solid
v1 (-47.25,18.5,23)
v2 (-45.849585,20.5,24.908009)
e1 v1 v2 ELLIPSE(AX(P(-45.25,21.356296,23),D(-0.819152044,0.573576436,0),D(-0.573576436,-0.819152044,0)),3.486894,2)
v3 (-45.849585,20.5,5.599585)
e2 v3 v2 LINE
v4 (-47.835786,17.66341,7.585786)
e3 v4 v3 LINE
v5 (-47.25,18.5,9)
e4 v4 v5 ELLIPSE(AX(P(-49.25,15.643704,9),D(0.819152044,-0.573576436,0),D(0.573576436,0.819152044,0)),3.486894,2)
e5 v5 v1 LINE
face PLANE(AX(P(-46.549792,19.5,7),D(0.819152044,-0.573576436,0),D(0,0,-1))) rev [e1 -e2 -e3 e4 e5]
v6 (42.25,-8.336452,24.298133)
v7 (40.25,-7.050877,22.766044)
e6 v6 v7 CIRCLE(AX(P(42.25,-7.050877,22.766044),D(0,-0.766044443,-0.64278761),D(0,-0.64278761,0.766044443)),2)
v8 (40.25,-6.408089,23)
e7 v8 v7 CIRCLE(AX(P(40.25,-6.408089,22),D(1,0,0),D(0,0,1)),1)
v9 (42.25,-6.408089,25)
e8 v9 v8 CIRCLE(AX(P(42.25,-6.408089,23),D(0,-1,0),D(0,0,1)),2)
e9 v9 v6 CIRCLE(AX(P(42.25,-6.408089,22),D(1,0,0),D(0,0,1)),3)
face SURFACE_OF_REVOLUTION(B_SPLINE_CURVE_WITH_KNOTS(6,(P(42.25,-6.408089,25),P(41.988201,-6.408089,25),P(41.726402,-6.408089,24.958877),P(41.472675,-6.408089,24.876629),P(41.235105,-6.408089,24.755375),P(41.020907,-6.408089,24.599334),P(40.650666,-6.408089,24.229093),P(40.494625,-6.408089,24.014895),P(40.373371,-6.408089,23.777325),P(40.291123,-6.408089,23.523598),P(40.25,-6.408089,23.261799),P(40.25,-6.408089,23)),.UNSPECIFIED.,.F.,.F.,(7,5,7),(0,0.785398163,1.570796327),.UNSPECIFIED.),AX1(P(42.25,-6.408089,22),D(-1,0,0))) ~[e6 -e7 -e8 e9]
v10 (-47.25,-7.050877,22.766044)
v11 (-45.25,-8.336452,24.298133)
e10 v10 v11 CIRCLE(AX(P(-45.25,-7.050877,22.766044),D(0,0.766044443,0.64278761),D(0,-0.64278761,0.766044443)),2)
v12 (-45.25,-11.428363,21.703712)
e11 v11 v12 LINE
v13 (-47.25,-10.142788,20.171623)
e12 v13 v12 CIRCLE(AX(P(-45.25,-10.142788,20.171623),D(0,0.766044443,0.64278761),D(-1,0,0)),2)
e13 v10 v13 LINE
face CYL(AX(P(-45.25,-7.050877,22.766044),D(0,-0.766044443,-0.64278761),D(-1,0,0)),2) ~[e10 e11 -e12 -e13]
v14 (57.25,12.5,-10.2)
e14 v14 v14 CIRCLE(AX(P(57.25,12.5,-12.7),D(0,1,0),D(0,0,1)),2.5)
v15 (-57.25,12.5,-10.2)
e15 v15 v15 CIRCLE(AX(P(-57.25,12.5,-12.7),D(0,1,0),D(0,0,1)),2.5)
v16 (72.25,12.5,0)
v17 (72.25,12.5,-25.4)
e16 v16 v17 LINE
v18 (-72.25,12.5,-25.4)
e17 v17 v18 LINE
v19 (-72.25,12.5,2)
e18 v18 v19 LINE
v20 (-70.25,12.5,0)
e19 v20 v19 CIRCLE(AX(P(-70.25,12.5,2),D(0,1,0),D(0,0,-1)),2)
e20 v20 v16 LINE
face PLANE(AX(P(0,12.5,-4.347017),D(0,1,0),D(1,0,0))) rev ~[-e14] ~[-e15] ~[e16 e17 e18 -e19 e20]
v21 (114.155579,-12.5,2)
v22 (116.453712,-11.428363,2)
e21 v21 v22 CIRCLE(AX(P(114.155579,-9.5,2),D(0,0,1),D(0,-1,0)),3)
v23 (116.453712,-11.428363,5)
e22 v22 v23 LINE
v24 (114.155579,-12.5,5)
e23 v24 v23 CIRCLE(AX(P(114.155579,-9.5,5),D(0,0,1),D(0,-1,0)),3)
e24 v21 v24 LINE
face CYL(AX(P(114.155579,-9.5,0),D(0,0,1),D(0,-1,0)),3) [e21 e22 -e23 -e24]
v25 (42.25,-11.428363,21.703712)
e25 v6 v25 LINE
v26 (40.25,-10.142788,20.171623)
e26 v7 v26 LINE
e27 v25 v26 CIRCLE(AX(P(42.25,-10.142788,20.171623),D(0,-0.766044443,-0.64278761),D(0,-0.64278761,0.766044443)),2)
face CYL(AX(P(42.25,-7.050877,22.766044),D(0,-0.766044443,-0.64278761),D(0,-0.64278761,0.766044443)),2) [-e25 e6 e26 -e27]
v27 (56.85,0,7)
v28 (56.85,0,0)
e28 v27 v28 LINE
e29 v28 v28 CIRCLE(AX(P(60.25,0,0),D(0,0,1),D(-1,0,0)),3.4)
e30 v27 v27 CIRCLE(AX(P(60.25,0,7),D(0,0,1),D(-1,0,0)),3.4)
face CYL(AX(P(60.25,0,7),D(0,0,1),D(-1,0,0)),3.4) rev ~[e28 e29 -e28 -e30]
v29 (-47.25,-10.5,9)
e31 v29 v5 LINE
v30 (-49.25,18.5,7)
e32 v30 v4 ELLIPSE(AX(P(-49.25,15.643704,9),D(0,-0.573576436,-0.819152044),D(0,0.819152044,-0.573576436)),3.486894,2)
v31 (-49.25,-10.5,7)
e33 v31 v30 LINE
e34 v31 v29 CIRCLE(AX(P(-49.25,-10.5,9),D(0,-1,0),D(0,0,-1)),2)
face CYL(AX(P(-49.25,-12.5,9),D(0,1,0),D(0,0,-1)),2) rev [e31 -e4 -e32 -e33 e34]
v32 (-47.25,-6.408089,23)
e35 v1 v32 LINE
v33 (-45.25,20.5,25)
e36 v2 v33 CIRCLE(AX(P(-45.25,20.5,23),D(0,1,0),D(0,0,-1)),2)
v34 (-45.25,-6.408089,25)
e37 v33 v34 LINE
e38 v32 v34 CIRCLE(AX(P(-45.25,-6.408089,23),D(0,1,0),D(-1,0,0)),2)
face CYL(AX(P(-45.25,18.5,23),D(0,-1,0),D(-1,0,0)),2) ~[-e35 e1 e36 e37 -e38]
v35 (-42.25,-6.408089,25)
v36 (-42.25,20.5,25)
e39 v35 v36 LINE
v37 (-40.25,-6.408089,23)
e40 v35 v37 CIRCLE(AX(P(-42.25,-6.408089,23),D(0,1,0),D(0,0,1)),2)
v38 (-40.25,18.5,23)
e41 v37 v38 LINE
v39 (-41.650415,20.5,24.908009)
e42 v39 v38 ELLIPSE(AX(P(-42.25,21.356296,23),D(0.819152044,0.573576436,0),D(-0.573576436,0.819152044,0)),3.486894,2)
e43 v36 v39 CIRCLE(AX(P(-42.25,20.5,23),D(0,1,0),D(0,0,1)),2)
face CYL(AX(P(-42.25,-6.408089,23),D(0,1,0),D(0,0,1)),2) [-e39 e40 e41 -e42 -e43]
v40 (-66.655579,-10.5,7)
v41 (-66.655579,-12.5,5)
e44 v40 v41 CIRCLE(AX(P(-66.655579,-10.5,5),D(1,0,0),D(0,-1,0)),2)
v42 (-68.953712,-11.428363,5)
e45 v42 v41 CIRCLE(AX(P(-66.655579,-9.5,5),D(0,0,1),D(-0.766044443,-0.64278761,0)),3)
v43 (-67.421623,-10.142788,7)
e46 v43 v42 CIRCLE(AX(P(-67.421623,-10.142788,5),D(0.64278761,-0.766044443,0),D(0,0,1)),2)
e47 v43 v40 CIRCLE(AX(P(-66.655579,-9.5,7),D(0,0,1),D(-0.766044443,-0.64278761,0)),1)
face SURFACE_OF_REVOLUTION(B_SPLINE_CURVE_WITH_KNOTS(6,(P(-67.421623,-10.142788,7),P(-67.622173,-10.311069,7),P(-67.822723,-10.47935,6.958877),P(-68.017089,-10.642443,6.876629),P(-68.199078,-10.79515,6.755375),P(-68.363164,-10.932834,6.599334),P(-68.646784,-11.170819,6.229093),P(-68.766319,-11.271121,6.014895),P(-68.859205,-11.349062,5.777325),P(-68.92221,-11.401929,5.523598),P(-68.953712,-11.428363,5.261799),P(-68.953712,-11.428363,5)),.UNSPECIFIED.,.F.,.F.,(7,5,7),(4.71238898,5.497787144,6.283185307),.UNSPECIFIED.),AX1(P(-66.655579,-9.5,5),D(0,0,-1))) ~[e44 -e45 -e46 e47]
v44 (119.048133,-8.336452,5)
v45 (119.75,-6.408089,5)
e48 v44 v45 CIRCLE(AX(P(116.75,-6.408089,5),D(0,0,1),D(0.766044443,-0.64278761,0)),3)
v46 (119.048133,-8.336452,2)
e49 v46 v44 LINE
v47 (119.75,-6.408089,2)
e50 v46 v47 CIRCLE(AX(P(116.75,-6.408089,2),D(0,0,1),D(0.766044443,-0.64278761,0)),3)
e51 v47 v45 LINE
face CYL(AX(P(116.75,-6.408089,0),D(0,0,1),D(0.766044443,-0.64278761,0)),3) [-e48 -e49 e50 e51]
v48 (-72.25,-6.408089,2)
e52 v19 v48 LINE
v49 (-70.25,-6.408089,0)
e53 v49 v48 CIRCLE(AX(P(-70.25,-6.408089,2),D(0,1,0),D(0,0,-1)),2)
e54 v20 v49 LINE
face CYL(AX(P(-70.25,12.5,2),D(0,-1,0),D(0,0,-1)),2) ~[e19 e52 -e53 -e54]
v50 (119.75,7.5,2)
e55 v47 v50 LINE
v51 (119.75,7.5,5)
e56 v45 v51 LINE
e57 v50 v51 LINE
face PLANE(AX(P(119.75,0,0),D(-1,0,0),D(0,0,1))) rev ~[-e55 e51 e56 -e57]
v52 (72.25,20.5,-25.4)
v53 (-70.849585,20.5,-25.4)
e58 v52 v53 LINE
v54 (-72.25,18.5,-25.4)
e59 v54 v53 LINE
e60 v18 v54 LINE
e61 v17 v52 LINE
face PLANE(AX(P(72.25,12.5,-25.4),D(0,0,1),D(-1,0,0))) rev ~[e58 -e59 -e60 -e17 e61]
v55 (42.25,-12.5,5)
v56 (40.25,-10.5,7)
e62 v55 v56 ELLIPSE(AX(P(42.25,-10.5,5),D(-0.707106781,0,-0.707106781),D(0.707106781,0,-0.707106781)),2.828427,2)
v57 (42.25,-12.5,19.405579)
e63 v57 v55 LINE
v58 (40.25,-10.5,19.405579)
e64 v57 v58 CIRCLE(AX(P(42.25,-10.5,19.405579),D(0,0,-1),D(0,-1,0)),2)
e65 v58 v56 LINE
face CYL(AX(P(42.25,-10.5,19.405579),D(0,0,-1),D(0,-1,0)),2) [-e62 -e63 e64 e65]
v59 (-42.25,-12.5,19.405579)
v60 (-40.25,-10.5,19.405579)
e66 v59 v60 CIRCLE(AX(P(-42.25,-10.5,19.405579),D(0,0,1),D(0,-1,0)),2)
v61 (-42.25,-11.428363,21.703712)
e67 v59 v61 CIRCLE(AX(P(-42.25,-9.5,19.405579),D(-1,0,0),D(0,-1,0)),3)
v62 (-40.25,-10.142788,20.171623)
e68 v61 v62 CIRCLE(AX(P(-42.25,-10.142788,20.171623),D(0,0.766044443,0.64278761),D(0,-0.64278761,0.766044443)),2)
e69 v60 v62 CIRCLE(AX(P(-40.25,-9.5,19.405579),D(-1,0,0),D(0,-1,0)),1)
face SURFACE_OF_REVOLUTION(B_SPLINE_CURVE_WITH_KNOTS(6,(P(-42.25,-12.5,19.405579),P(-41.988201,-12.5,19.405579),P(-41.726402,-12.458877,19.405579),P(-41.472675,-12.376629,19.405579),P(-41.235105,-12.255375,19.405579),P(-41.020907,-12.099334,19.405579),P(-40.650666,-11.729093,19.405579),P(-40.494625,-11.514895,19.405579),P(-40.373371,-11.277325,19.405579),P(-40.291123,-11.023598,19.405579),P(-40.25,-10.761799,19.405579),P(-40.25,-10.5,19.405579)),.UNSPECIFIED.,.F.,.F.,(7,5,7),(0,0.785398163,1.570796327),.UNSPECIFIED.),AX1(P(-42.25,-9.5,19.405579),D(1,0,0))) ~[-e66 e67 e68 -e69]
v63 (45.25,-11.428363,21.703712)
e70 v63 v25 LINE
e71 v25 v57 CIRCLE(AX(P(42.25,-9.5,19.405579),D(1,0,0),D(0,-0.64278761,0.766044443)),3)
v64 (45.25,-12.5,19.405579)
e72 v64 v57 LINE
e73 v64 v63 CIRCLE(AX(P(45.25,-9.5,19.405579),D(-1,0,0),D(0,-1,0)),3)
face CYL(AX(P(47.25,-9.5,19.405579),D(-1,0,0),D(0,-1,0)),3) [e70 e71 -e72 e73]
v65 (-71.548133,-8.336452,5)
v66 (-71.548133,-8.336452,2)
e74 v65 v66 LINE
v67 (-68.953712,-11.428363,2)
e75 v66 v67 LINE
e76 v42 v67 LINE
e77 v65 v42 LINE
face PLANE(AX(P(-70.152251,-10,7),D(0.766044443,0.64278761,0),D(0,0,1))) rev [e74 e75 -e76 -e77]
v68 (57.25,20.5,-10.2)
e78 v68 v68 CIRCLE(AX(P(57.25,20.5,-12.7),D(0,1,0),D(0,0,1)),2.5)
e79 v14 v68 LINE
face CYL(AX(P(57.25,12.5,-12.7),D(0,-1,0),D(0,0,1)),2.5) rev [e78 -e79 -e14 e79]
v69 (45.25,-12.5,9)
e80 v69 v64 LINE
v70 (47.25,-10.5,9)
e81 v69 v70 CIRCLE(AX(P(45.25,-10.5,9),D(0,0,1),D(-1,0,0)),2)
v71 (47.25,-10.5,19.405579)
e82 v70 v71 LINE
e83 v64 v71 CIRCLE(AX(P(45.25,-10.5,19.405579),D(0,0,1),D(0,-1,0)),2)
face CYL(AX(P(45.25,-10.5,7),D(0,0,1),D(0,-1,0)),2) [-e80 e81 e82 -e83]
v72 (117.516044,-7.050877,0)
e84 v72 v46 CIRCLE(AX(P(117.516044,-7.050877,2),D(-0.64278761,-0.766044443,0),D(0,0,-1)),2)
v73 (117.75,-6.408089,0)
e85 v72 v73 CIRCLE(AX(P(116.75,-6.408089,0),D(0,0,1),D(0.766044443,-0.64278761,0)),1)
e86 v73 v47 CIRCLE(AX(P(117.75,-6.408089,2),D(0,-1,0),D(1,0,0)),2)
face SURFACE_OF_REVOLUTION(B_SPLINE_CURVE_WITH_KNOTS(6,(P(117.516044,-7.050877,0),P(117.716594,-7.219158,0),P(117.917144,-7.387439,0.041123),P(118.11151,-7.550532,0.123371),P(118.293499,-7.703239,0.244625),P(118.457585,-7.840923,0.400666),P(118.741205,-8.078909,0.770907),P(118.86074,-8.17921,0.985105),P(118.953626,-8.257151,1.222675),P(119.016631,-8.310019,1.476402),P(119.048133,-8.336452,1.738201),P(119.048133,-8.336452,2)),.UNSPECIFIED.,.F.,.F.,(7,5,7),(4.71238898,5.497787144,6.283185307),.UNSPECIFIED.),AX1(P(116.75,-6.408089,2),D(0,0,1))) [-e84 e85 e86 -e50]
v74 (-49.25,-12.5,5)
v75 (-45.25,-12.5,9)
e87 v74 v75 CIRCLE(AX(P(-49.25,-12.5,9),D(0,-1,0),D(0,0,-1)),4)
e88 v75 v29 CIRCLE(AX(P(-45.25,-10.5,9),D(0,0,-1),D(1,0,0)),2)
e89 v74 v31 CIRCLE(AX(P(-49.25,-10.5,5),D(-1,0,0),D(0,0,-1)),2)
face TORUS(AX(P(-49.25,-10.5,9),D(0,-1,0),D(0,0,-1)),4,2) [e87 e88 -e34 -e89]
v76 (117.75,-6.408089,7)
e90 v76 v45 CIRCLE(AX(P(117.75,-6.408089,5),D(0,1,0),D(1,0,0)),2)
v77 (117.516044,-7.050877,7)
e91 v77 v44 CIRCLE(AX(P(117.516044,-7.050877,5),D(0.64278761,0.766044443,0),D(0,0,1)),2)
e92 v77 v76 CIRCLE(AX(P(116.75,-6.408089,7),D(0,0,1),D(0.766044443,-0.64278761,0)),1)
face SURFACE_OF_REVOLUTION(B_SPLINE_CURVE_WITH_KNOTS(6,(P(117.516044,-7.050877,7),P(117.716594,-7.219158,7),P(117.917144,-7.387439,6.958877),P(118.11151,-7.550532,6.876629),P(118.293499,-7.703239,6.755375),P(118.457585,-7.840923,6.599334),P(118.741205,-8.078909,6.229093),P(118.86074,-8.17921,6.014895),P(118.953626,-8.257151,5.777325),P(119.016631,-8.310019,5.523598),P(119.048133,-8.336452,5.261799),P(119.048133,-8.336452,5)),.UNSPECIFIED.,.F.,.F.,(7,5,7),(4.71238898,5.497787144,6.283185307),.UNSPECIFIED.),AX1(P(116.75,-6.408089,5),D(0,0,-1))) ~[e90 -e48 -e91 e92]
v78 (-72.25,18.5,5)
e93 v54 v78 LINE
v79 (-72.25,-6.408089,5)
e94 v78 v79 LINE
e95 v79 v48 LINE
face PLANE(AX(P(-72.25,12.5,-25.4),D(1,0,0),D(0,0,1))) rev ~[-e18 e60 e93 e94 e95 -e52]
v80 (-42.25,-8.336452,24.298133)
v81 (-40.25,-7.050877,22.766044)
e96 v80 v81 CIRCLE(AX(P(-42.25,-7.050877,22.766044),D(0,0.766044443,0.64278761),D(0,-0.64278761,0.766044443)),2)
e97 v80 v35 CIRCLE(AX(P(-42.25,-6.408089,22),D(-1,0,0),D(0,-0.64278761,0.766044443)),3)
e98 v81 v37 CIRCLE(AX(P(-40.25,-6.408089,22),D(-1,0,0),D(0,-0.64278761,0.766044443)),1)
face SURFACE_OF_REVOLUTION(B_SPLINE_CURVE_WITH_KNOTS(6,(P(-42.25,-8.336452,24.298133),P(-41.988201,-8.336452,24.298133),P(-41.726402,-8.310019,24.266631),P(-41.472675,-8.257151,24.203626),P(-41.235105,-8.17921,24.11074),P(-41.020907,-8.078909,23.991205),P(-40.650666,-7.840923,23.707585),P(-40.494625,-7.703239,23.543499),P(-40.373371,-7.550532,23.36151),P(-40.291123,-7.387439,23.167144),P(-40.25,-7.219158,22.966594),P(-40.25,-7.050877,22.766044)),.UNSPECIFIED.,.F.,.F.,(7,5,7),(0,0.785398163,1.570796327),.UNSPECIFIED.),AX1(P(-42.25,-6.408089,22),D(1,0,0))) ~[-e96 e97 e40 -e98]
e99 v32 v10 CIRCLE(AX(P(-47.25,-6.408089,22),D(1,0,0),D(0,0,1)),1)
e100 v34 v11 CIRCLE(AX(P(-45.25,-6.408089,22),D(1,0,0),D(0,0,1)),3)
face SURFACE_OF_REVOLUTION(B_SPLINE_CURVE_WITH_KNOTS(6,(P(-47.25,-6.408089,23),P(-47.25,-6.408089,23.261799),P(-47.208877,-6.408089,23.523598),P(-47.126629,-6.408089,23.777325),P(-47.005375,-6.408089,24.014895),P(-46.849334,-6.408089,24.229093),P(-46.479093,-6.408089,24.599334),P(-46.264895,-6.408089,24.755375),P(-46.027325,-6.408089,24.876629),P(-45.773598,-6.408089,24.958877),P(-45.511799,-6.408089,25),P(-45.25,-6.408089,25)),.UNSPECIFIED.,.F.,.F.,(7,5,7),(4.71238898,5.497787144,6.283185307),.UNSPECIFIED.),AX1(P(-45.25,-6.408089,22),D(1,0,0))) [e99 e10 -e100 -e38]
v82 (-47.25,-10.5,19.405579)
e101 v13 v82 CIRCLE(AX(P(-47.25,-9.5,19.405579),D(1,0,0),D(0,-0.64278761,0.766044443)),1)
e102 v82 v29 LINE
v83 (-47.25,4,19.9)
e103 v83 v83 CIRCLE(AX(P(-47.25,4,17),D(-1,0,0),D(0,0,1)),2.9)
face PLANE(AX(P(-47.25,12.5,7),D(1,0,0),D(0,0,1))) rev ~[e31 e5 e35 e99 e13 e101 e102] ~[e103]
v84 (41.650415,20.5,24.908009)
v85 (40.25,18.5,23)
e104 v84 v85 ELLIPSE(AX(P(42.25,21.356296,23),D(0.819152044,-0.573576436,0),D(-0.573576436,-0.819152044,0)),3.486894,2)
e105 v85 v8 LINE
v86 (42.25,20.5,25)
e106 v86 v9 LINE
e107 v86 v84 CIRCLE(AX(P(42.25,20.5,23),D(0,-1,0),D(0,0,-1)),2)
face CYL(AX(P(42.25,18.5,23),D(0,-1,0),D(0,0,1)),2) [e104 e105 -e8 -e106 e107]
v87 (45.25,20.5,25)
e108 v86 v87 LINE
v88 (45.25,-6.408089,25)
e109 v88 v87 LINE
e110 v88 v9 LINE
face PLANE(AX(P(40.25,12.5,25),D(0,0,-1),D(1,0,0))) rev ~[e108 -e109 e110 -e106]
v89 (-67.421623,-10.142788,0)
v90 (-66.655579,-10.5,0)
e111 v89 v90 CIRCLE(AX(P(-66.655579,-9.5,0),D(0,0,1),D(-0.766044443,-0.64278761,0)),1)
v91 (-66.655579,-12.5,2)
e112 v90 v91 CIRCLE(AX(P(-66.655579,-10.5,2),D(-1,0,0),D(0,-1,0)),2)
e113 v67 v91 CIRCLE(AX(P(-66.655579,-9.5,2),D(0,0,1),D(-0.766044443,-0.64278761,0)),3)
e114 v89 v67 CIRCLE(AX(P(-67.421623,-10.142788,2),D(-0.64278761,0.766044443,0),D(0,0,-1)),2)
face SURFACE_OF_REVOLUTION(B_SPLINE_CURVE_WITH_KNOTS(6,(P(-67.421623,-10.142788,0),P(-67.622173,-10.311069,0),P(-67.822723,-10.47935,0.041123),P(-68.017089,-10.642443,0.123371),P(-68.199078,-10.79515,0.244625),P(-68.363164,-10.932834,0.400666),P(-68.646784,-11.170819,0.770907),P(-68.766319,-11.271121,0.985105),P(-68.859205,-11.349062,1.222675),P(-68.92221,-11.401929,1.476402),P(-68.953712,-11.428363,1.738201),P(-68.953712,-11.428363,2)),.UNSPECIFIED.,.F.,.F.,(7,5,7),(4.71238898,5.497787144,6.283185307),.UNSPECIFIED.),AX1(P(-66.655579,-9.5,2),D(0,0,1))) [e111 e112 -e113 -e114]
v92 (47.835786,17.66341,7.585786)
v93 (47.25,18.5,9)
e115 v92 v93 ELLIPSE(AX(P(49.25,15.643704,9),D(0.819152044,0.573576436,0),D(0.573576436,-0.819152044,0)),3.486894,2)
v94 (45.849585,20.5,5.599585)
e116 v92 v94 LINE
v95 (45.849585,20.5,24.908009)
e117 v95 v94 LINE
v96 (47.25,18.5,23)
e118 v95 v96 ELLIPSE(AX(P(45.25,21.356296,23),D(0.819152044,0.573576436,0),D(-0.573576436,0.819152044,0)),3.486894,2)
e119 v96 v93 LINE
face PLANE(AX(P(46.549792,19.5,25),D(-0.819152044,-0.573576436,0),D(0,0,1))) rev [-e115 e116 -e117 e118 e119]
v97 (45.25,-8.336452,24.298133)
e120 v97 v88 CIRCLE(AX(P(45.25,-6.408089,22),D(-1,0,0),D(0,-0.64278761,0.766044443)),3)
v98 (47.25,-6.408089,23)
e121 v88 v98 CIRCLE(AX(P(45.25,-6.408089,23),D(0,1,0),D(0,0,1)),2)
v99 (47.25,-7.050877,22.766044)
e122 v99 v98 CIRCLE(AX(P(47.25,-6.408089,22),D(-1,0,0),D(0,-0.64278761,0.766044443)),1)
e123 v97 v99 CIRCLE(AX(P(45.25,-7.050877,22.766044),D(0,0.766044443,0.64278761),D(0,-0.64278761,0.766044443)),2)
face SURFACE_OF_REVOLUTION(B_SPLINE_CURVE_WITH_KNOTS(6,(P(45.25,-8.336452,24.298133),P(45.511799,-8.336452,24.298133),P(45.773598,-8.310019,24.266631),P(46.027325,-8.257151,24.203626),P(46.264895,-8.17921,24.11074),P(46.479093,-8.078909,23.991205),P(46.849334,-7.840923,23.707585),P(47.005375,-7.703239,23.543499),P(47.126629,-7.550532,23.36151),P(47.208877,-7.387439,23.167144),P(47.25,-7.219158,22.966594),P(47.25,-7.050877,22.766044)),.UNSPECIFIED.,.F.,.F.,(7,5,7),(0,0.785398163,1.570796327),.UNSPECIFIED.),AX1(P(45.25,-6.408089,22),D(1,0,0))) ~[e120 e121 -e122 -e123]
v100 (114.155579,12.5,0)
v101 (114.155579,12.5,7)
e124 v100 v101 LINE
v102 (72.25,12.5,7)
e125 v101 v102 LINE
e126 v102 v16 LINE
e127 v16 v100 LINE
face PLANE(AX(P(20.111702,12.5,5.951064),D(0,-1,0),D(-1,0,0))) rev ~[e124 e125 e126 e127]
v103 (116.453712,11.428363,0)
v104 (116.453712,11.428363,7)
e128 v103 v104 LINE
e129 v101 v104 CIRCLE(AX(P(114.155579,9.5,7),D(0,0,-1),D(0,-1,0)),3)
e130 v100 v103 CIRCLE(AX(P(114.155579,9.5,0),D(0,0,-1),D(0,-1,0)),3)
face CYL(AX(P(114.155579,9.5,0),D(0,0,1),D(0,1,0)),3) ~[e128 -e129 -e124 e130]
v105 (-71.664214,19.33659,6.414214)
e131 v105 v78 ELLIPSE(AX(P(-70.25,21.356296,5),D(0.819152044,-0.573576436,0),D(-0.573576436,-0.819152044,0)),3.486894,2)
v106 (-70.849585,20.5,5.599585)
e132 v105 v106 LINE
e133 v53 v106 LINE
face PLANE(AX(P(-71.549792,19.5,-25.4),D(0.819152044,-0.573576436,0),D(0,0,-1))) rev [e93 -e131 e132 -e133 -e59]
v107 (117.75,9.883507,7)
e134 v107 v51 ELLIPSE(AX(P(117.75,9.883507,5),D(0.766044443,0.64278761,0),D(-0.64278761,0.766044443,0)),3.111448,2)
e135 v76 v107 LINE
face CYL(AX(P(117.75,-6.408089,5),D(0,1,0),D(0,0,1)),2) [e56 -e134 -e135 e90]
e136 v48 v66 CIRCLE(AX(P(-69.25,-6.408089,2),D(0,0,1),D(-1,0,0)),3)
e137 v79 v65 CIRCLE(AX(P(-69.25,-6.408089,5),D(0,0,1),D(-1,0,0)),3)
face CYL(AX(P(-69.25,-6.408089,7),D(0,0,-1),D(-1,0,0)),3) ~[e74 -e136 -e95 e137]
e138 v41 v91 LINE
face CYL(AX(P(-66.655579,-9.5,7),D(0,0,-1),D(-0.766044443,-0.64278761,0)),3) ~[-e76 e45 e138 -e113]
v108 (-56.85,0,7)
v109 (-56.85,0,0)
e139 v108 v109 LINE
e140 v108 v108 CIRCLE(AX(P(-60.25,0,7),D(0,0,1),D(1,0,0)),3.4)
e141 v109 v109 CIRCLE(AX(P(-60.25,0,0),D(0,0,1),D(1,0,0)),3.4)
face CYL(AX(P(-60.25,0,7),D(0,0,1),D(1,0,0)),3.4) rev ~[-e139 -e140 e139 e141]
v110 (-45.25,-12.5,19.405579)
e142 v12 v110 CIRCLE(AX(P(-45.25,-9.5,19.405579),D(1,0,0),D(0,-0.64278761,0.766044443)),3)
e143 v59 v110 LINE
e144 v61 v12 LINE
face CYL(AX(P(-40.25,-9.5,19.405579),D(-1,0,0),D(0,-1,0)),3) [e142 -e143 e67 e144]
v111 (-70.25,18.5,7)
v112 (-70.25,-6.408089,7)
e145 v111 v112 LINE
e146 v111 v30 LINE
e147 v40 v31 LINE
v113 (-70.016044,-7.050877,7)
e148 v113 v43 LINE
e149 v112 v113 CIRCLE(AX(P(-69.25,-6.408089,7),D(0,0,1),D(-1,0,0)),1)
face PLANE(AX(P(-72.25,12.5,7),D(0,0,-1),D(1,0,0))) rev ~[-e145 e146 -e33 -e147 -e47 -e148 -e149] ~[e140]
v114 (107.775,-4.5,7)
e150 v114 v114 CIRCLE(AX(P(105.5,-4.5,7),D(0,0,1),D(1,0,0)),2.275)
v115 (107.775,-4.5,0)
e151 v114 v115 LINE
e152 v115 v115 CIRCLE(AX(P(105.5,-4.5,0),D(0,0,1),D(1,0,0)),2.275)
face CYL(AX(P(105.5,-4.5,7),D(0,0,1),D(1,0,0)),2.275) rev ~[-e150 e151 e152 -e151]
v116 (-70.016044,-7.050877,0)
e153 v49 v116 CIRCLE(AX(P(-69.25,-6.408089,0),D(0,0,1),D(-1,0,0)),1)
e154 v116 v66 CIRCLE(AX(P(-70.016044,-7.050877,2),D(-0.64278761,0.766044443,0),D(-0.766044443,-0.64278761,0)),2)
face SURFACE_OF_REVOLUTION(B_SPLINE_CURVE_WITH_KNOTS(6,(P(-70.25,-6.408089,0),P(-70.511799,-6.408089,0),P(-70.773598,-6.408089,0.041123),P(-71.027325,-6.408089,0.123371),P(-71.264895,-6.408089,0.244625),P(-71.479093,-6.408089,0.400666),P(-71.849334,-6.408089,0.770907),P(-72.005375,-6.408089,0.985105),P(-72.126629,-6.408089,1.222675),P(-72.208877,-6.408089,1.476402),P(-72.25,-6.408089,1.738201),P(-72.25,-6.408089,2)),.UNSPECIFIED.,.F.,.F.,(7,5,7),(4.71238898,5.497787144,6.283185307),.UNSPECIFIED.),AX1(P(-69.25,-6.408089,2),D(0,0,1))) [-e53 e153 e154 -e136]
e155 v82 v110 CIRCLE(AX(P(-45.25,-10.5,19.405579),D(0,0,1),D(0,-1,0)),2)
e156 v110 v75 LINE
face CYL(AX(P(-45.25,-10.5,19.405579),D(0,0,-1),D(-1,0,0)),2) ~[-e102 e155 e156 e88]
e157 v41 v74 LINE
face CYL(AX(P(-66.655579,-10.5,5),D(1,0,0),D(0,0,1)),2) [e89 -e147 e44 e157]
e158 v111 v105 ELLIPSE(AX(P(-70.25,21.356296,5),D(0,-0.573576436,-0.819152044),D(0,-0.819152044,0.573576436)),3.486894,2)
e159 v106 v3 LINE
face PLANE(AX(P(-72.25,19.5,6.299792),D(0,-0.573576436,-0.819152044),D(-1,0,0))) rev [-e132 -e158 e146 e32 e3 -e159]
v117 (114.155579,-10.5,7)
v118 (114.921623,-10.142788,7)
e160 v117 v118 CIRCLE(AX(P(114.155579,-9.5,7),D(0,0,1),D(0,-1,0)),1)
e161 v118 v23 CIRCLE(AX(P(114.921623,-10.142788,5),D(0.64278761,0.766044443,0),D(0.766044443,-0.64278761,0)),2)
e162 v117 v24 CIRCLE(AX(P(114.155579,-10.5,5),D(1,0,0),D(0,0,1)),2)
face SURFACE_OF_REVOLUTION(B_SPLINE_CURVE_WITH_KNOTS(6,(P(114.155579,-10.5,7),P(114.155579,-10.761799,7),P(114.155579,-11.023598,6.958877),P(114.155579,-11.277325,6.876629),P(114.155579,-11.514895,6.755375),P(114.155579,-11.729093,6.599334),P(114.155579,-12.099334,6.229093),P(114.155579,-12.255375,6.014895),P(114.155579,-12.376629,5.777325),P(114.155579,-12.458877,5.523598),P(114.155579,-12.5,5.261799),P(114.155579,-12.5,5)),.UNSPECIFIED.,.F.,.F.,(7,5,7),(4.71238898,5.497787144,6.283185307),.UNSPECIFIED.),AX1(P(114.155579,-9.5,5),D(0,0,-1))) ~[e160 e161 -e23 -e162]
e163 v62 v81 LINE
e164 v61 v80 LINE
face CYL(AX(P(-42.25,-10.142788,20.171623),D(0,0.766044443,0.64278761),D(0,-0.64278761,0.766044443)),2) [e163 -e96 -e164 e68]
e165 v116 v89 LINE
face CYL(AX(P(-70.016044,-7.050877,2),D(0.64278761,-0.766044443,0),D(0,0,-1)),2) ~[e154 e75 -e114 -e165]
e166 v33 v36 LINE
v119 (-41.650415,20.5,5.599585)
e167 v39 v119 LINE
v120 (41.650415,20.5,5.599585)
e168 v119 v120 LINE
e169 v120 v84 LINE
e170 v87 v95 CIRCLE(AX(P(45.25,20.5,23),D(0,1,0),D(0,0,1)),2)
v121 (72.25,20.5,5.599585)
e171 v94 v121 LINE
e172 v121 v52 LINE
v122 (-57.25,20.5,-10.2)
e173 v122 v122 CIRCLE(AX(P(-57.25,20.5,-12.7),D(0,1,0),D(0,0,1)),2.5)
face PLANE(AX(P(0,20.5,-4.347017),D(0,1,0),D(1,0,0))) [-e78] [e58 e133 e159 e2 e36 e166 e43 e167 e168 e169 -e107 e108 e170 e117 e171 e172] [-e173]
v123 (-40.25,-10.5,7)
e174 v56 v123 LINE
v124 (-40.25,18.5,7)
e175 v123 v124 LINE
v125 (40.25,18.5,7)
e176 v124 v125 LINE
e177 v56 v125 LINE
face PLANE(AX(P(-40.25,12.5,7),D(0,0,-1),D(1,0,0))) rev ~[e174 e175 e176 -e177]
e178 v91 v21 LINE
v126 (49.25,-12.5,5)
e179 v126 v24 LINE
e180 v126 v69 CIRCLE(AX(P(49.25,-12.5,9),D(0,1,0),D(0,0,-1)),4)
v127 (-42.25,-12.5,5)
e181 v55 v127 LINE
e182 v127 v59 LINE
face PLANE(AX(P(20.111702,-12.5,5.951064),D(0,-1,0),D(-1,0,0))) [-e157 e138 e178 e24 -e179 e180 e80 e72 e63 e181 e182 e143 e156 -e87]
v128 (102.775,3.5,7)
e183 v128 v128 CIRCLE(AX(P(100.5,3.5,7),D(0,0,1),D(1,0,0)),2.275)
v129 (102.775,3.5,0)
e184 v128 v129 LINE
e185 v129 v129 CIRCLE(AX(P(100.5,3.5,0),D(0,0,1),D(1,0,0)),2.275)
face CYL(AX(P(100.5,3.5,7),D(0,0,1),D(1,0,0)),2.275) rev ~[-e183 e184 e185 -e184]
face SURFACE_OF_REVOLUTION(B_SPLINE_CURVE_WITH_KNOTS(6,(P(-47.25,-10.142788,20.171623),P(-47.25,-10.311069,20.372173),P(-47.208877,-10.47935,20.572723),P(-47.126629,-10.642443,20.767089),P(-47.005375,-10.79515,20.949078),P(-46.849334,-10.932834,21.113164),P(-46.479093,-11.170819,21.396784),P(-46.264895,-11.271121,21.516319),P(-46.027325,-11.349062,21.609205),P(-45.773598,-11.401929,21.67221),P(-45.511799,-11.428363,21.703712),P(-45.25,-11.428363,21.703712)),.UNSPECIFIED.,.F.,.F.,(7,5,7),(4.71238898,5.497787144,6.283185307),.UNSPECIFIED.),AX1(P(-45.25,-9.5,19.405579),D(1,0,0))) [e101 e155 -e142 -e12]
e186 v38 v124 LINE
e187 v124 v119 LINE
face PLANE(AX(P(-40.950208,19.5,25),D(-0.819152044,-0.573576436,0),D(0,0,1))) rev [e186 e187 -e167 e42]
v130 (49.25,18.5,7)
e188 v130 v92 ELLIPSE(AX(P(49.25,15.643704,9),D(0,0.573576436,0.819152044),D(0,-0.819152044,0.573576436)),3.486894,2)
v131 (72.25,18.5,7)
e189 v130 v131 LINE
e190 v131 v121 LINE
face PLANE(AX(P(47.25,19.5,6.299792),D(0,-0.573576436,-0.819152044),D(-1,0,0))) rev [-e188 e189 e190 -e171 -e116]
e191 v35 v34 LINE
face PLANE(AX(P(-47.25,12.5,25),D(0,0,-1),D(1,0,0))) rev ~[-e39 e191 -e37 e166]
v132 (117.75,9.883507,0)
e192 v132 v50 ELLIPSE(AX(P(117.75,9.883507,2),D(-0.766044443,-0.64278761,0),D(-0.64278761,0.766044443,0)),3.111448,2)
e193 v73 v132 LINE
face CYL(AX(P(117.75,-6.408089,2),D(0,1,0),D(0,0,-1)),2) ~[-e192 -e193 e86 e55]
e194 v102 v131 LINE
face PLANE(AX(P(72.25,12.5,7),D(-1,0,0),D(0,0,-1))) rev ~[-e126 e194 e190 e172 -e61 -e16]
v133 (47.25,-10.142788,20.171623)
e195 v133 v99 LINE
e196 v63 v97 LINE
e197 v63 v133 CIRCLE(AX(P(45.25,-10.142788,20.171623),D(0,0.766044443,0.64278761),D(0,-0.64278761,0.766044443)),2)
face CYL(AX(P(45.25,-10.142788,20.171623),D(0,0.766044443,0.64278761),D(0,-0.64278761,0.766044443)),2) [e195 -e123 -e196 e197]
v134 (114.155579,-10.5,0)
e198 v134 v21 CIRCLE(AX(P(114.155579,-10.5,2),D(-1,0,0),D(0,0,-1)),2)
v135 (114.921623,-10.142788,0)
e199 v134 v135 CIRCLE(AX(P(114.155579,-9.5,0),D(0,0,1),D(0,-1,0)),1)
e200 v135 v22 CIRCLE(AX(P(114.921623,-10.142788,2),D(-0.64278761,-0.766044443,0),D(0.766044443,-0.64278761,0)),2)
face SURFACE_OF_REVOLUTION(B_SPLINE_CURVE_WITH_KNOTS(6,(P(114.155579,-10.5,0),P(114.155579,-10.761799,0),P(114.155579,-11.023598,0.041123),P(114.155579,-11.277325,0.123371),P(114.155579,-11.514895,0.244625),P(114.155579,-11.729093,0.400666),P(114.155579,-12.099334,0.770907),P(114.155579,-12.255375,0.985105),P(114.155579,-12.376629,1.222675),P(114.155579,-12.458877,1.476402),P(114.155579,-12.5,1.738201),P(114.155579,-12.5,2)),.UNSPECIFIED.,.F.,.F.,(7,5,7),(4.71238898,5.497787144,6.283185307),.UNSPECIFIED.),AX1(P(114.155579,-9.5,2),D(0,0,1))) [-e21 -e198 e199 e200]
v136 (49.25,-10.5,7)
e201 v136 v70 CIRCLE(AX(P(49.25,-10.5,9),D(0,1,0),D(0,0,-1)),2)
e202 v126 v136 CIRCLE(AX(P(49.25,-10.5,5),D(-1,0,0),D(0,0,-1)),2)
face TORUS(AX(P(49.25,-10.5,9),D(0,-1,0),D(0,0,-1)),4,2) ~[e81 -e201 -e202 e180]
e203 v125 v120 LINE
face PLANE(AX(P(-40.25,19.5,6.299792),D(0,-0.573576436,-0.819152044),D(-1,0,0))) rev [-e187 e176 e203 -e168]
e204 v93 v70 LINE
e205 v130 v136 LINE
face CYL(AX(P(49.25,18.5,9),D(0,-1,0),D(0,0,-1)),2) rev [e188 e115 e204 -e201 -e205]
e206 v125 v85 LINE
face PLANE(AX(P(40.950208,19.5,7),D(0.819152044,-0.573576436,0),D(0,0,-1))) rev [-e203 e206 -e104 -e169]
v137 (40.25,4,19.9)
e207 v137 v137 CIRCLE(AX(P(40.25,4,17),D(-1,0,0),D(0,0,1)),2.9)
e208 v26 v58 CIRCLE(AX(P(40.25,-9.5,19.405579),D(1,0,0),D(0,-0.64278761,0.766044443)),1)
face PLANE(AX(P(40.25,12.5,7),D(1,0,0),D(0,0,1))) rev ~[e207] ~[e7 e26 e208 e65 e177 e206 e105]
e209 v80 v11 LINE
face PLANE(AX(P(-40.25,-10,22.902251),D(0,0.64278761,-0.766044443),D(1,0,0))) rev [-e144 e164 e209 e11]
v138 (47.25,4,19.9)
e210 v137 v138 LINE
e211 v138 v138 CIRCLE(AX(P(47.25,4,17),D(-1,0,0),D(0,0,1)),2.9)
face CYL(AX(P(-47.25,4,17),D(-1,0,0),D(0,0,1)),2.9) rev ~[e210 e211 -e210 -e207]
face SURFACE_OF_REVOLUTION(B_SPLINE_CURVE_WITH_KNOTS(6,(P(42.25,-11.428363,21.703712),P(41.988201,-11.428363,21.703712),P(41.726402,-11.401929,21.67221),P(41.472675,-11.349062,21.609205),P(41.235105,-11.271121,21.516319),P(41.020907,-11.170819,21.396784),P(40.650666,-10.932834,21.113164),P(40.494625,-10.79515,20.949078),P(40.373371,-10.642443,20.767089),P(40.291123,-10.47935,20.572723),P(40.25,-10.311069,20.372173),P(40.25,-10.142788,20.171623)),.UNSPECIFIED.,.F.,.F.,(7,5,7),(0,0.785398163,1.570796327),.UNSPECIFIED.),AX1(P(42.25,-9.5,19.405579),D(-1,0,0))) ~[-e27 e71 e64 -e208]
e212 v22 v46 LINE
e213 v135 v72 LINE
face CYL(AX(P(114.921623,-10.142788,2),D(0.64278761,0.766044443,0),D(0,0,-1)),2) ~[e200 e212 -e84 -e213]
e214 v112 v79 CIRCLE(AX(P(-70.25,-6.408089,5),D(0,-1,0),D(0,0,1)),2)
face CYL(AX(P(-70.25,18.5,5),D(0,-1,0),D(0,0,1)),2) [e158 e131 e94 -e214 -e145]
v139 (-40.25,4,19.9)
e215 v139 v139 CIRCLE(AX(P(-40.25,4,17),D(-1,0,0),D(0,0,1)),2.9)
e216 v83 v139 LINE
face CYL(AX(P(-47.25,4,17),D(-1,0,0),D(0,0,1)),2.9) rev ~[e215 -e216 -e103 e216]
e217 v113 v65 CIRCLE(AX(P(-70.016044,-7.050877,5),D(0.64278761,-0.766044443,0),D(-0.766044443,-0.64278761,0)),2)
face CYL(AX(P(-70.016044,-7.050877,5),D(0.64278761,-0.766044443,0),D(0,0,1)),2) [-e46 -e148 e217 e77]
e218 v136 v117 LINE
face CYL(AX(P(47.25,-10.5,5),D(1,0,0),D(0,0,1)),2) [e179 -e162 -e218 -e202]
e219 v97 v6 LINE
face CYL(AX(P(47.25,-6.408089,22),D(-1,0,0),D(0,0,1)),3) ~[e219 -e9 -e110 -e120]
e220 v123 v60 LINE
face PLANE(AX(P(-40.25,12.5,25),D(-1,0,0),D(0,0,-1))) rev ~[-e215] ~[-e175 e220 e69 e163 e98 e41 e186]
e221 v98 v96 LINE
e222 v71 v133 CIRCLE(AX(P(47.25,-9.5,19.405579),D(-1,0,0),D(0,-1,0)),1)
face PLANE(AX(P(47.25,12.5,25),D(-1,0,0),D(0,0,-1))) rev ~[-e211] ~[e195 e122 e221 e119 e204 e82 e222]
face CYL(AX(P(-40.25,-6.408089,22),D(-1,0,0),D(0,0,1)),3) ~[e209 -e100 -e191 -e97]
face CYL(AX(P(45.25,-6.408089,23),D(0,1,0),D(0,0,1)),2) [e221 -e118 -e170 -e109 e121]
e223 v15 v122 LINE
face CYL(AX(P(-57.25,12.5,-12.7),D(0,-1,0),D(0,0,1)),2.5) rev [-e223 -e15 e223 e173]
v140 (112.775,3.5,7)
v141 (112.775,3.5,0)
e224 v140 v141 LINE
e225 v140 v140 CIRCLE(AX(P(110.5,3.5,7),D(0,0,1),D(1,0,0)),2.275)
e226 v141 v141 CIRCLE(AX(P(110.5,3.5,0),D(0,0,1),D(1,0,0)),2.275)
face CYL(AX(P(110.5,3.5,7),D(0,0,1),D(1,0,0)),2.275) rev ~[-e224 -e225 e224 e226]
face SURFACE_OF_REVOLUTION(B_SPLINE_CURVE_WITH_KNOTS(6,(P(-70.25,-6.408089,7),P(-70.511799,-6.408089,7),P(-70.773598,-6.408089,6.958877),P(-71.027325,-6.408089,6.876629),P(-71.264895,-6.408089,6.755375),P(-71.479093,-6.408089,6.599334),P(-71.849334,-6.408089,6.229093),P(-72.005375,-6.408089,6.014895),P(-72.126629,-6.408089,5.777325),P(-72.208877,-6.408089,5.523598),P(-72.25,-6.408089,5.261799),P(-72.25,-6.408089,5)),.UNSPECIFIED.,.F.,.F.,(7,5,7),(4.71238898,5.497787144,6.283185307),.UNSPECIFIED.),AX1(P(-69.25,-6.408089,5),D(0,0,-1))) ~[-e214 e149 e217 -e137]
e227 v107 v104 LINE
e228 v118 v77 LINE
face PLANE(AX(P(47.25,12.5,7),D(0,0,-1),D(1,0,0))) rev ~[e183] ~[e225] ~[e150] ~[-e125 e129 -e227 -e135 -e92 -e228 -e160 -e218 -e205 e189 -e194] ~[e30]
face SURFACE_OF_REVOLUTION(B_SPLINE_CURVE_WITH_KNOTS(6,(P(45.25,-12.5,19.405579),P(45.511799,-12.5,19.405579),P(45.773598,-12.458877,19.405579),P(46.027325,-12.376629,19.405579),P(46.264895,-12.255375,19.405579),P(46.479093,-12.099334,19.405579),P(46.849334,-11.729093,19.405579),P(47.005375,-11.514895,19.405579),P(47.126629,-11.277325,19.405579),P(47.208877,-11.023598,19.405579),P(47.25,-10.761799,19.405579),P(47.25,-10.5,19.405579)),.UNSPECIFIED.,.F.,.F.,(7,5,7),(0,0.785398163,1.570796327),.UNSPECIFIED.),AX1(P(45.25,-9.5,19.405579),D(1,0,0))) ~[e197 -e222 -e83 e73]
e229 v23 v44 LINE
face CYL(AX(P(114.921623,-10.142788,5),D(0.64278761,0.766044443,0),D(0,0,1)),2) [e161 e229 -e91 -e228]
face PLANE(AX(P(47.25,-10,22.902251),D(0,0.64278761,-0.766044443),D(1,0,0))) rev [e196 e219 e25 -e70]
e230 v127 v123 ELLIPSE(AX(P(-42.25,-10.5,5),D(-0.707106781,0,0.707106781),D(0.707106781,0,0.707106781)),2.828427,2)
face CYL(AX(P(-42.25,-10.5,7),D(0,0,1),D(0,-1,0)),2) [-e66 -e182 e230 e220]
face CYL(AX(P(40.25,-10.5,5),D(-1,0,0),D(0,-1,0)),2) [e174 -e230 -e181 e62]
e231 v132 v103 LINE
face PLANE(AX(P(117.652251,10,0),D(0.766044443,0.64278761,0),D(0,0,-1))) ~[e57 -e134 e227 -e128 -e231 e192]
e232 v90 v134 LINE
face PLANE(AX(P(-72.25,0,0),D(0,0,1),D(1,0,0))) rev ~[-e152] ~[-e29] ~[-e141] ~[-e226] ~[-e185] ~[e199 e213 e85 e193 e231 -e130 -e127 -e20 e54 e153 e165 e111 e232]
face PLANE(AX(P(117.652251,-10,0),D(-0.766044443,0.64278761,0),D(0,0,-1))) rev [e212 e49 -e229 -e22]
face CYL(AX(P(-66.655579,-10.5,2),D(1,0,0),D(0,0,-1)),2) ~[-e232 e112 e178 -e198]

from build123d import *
from OCP.BRepFilletAPI import BRepFilletAPI_MakeChamfer

# Parameters (mm, degrees)
BOSS_EXTRUDE1_DEPTH = 12.5
SKETCH2_R           = 3.4
CUT_EXTRUDE1_DEPTH  = 122.738705842
SKETCH4_R           = 2.5
BOSS_EXTRUDE2_DEPTH = 8
SKETCH3_R           = 2.9
CUT_EXTRUDE2_DEPTH  = 171.159954161
CUT_EXTRUDE4_REACH  = 127.738
SKETCH8_R           = 2.275
CHAMFER1_SIZE       = 5
CHAMFER1_SIZE2      = 4.195498156
FILLET1_R           = 3
CHAMFER2_SIZE       = 2
CHAMFER2_SIZE2      = 1.400415076
FILLET2_R           = 2


with BuildPart() as part:
    # Sketch1 → Boss-Extrude1 (new, symmetric)
    with BuildSketch(Plane(origin=(0, 0, 0), x_dir=(1, 0, 0), z_dir=(0, 1, 0))):
        Polygon((119.75, 0), (119.75, -7), (47.25, -7), (47.25, -25), (40.25, -25), (40.25, -7), (-40.25, -7), (-40.25, -25), (-47.25, -25), (-47.25, -7), (-72.25, -7), (-72.25, 0), align=None)
    extrude(amount=BOSS_EXTRUDE1_DEPTH, both=True)

    # Sketch2 → Cut-Extrude1 (cut, through all)
    with BuildSketch(Plane.XY.offset(7)):
        with Locations((-60.25, 0)):
            Circle(SKETCH2_R)
        with Locations(Location((60.25, 0, 0), (0, 0, 180))):
            Circle(SKETCH2_R)
    extrude(amount=-CUT_EXTRUDE1_DEPTH, mode=Mode.SUBTRACT)

    # Sketch4 → Boss-Extrude2 (add)
    with BuildSketch(Plane(origin=(0, 12.5, 0), x_dir=(1, 0, 0), z_dir=(0, 1, 0))):
        Polygon((-72.25, -7), (-47.25, -7), (-47.25, -25), (-40.25, -25), (-40.25, -7), (40.25, -7), (40.25, -25), (47.25, -25), (47.25, -7), (72.25, -7), (72.25, 25.4), (-72.25, 25.4), align=None)
        with Locations(Location((-57.25, 12.7, 0), (0, 0, 270))):
            Circle(SKETCH4_R, mode=Mode.SUBTRACT)
        with Locations(Location((57.25, 12.7, 0), (0, 0, 270))):
            Circle(SKETCH4_R, mode=Mode.SUBTRACT)
    extrude(amount=BOSS_EXTRUDE2_DEPTH)

    # Sketch3 → Cut-Extrude2 (cut, through all)
    with BuildSketch(Plane.ZY.offset(47.25)):
        with Locations((17, 4)):
            Circle(SKETCH3_R)
    extrude(amount=-CUT_EXTRUDE2_DEPTH, mode=Mode.SUBTRACT)

    # Sketch8 → Cut-Extrude4 (cut, up to next)
    with BuildSketch(Plane.XY.offset(7), mode=Mode.PRIVATE) as cut_extrude4_sk1:
        with Locations((100.5, 3.5)):
            Circle(SKETCH8_R)
    cut_extrude4_tool1 = extrude(cut_extrude4_sk1.sketch, amount=-CUT_EXTRUDE4_REACH, mode=Mode.PRIVATE) & part.part
    # Sketch8 → Cut-Extrude4 (cut, up to next)
    with BuildSketch(Plane.XY.offset(7), mode=Mode.PRIVATE) as cut_extrude4_sk2:
        with Locations((110.5, 3.5)):
            Circle(SKETCH8_R)
    cut_extrude4_tool2 = extrude(cut_extrude4_sk2.sketch, amount=-CUT_EXTRUDE4_REACH, mode=Mode.PRIVATE) & part.part
    # Sketch8 → Cut-Extrude4 (cut, up to next)
    with BuildSketch(Plane.XY.offset(7), mode=Mode.PRIVATE) as cut_extrude4_sk3:
        with Locations((105.5, -4.5)):
            Circle(SKETCH8_R)
    cut_extrude4_tool3 = extrude(cut_extrude4_sk3.sketch, amount=-CUT_EXTRUDE4_REACH, mode=Mode.PRIVATE) & part.part
    add(cut_extrude4_tool1.solids().sort_by_distance((100.5, 3.5, 7))[0], mode=Mode.SUBTRACT)
    add(cut_extrude4_tool2.solids().sort_by_distance((110.5, 3.5, 7))[0], mode=Mode.SUBTRACT)
    add(cut_extrude4_tool3.solids().sort_by_distance((105.5, -4.5, 7))[0], mode=Mode.SUBTRACT)

    # Chamfer1: one chamfer whose edges measure the first distance from different faces: ONE call of the kernel's chamfer builder (chamfer() names one face for all edges)
    chamfer1_edges_1 = [part.edges().sort_by_distance(p)[0] for p in [
        (119.75, -12.5, 3.5),
        (119.75, 12.5, 3.5),
    ]]
    chamfer1_side_1 = [part.faces().sort_by_distance(p)[0] for p in [
        (119.75, 0, 3.5),
    ]]
    chamfer1_edges_2 = [part.edges().sort_by_distance(p)[0] for p in [
        (43.75, -12.5, 25),
    ]]
    chamfer1_side_2 = [part.faces().sort_by_distance(p)[0] for p in [
        (43.75, 4, 25),
    ]]
    chamfer1_edges_3 = [part.edges().sort_by_distance(p)[0] for p in [
        (-43.75, -12.5, 25),
    ]]
    chamfer1_side_3 = [part.faces().sort_by_distance(p)[0] for p in [
        (-43.75, 4, 25),
    ]]
    chamfer1_edges_4 = [part.edges().sort_by_distance(p)[0] for p in [
        (-72.25, -12.5, 3.5),
    ]]
    chamfer1_side_4 = [part.faces().sort_by_distance(p)[0] for p in [
        (-72.25, 4, 6.537532704),
    ]]
    chamfer1 = BRepFilletAPI_MakeChamfer(part.part.solid().wrapped)
    for e in chamfer1_edges_1:
        chamfer1.Add(CHAMFER1_SIZE, CHAMFER1_SIZE2, e.wrapped, chamfer1_side_1[0].wrapped)  # the first distance lies on this face
    for e in chamfer1_edges_2:
        chamfer1.Add(CHAMFER1_SIZE, CHAMFER1_SIZE2, e.wrapped, chamfer1_side_2[0].wrapped)  # the first distance lies on this face
    for e in chamfer1_edges_3:
        chamfer1.Add(CHAMFER1_SIZE, CHAMFER1_SIZE2, e.wrapped, chamfer1_side_3[0].wrapped)  # the first distance lies on this face
    for e in chamfer1_edges_4:
        chamfer1.Add(CHAMFER1_SIZE, CHAMFER1_SIZE2, e.wrapped, chamfer1_side_4[0].wrapped)  # the first distance lies on this face
    add(Compound.cast(chamfer1.Shape()), mode=Mode.REPLACE)

    # Fillet1
    fillet1_edges = [part.edges().sort_by_distance(p)[0] for p in [
        (115.554501844, 12.5, 3.5),
        (119.75, -7.5, 3.5),
        (-43.75, -12.5, 20.804501844),
        (43.75, -12.5, 20.804501844),
        (-68.054501844, -12.5, 3.5),
        (115.554501844, -12.5, 3.5),
        (-72.25, -7.5, 3.5),
        (43.75, -7.5, 25),
        (-43.75, -7.5, 25),
    ]]
    fillet(fillet1_edges, radius=FILLET1_R)

    # Chamfer2: one chamfer whose edges measure the first distance from different faces: ONE call of the kernel's chamfer builder (chamfer() names one face for all edges)
    chamfer2_edges_1 = [part.edges().sort_by_distance(p)[0] for p in [
        (-72.25, 20.5, -9.2),
    ]]
    chamfer2_side_1 = [part.faces().sort_by_distance(p)[0] for p in [
        (-72.25, 7.045955351, 6.578834324),
    ]]
    chamfer2_edges_2 = [part.edges().sort_by_distance(p)[0] for p in [
        (-59.75, 20.5, 7),
    ]]
    chamfer2_side_2 = [part.faces().sort_by_distance(p)[0] for p in [
        (-59.571971044, 4.394421722, 7),
    ]]
    chamfer2_edges_3 = [part.edges().sort_by_distance(p)[0] for p in [
        (-47.25, 20.5, 16),
    ]]
    chamfer2_side_3 = [part.faces().sort_by_distance(p)[0] for p in [
        (-47.25, -12.124101077, 13.202789435),
    ]]
    chamfer2_edges_4 = [part.edges().sort_by_distance(p)[0] for p in [
        (-40.25, 20.5, 16),
    ]]
    chamfer2_side_4 = [part.faces().sort_by_distance(p)[0] for p in [
        (-40.25, -12.124101077, 13.202789435),
    ]]
    chamfer2_edges_5 = [part.edges().sort_by_distance(p)[0] for p in [
        (0, 20.5, 7),
    ]]
    chamfer2_side_5 = [part.faces().sort_by_distance(p)[0] for p in [
        (0, 4, 7),
    ]]
    chamfer2_edges_6 = [part.edges().sort_by_distance(p)[0] for p in [
        (40.25, 20.5, 16),
    ]]
    chamfer2_side_6 = [part.faces().sort_by_distance(p)[0] for p in [
        (40.25, -12.124101077, 13.202789435),
    ]]
    chamfer2_edges_7 = [part.edges().sort_by_distance(p)[0] for p in [
        (47.25, 20.5, 16),
    ]]
    chamfer2_side_7 = [part.faces().sort_by_distance(p)[0] for p in [
        (47.25, -12.124101077, 13.202789435),
    ]]
    chamfer2_edges_8 = [part.edges().sort_by_distance(p)[0] for p in [
        (59.75, 20.5, 7),
    ]]
    chamfer2_side_8 = [part.faces().sort_by_distance(p)[0] for p in [
        (80.49228868, 1.71079357, 7),
    ]]
    chamfer2 = BRepFilletAPI_MakeChamfer(part.part.solid().wrapped)
    for e in chamfer2_edges_1:
        chamfer2.Add(CHAMFER2_SIZE, CHAMFER2_SIZE2, e.wrapped, chamfer2_side_1[0].wrapped)  # the first distance lies on this face
    for e in chamfer2_edges_2:
        chamfer2.Add(CHAMFER2_SIZE, CHAMFER2_SIZE2, e.wrapped, chamfer2_side_2[0].wrapped)  # the first distance lies on this face
    for e in chamfer2_edges_3:
        chamfer2.Add(CHAMFER2_SIZE, CHAMFER2_SIZE2, e.wrapped, chamfer2_side_3[0].wrapped)  # the first distance lies on this face
    for e in chamfer2_edges_4:
        chamfer2.Add(CHAMFER2_SIZE, CHAMFER2_SIZE2, e.wrapped, chamfer2_side_4[0].wrapped)  # the first distance lies on this face
    for e in chamfer2_edges_5:
        chamfer2.Add(CHAMFER2_SIZE, CHAMFER2_SIZE2, e.wrapped, chamfer2_side_5[0].wrapped)  # the first distance lies on this face
    for e in chamfer2_edges_6:
        chamfer2.Add(CHAMFER2_SIZE, CHAMFER2_SIZE2, e.wrapped, chamfer2_side_6[0].wrapped)  # the first distance lies on this face
    for e in chamfer2_edges_7:
        chamfer2.Add(CHAMFER2_SIZE, CHAMFER2_SIZE2, e.wrapped, chamfer2_side_7[0].wrapped)  # the first distance lies on this face
    for e in chamfer2_edges_8:
        chamfer2.Add(CHAMFER2_SIZE, CHAMFER2_SIZE2, e.wrapped, chamfer2_side_8[0].wrapped)  # the first distance lies on this face
    add(Compound.cast(chamfer2.Shape()), mode=Mode.REPLACE)

    # Fillet2
    fillet2_edges = [part.edges().sort_by_distance(p)[0] for p in [
        (-72.25, 6.045955351, 7),
        (-72.069077862, -7.434149727, 7),
        (-70.250922764, -9.882407478, 7),
        (-67.923433655, -12.218923361, 7),
        (-56.952789435, -12.5, 7),
        (119.569077862, -7.434149727, 7),
        (117.750922764, -9.882407478, 7),
        (115.423433655, -12.218923361, 7),
        (119.75, 0.545955351, 0),
        (119.569077862, -7.434149727, 0),
        (117.750922764, -9.882407478, 0),
        (115.423433655, -12.218923361, 0),
        (-72.25, 3.045955351, 0),
        (-72.069077862, -7.434149727, 0),
        (-70.250922764, -9.882407478, 0),
        (-67.923433655, -12.218923361, 0),
        (47.25, -12.5, 13.202789435),
        (47.25, -12.218923361, 20.673433655),
        (47.25, -9.882407478, 23.000922764),
        (47.25, -7.434149727, 24.819077862),
        (40.25, -12.5, 13.202789435),
        (40.25, -12.218923361, 20.673433655),
        (40.25, -9.882407478, 23.000922764),
        (40.25, -7.434149727, 24.819077862),
        (-40.25, -12.5, 13.202789435),
        (-40.25, -12.218923361, 20.673433655),
        (-40.25, -9.882407478, 23.000922764),
        (-40.25, -7.434149727, 24.819077862),
        (-47.25, -12.5, 13.202789435),
        (-47.25, -12.218923361, 20.673433655),
        (-47.25, -9.882407478, 23.000922764),
        (-47.25, -7.434149727, 24.819077862),
        (-47.25, 6.045955351, 25),
        (47.25, 3, 7),
        (80.702789435, -12.5, 7),
        (0, -12.5, 7),
        (23.75, -12.5, 0),
        (-47.25, 3, 7),
        (47.25, 6.045955351, 25),
        (40.25, 6.045955351, 25),
        (-40.25, 6.045955351, 25),
        (119.75, 0.545955351, 7),
    ]]
    fillet(fillet2_edges, radius=FILLET2_R)


solid = part.part
